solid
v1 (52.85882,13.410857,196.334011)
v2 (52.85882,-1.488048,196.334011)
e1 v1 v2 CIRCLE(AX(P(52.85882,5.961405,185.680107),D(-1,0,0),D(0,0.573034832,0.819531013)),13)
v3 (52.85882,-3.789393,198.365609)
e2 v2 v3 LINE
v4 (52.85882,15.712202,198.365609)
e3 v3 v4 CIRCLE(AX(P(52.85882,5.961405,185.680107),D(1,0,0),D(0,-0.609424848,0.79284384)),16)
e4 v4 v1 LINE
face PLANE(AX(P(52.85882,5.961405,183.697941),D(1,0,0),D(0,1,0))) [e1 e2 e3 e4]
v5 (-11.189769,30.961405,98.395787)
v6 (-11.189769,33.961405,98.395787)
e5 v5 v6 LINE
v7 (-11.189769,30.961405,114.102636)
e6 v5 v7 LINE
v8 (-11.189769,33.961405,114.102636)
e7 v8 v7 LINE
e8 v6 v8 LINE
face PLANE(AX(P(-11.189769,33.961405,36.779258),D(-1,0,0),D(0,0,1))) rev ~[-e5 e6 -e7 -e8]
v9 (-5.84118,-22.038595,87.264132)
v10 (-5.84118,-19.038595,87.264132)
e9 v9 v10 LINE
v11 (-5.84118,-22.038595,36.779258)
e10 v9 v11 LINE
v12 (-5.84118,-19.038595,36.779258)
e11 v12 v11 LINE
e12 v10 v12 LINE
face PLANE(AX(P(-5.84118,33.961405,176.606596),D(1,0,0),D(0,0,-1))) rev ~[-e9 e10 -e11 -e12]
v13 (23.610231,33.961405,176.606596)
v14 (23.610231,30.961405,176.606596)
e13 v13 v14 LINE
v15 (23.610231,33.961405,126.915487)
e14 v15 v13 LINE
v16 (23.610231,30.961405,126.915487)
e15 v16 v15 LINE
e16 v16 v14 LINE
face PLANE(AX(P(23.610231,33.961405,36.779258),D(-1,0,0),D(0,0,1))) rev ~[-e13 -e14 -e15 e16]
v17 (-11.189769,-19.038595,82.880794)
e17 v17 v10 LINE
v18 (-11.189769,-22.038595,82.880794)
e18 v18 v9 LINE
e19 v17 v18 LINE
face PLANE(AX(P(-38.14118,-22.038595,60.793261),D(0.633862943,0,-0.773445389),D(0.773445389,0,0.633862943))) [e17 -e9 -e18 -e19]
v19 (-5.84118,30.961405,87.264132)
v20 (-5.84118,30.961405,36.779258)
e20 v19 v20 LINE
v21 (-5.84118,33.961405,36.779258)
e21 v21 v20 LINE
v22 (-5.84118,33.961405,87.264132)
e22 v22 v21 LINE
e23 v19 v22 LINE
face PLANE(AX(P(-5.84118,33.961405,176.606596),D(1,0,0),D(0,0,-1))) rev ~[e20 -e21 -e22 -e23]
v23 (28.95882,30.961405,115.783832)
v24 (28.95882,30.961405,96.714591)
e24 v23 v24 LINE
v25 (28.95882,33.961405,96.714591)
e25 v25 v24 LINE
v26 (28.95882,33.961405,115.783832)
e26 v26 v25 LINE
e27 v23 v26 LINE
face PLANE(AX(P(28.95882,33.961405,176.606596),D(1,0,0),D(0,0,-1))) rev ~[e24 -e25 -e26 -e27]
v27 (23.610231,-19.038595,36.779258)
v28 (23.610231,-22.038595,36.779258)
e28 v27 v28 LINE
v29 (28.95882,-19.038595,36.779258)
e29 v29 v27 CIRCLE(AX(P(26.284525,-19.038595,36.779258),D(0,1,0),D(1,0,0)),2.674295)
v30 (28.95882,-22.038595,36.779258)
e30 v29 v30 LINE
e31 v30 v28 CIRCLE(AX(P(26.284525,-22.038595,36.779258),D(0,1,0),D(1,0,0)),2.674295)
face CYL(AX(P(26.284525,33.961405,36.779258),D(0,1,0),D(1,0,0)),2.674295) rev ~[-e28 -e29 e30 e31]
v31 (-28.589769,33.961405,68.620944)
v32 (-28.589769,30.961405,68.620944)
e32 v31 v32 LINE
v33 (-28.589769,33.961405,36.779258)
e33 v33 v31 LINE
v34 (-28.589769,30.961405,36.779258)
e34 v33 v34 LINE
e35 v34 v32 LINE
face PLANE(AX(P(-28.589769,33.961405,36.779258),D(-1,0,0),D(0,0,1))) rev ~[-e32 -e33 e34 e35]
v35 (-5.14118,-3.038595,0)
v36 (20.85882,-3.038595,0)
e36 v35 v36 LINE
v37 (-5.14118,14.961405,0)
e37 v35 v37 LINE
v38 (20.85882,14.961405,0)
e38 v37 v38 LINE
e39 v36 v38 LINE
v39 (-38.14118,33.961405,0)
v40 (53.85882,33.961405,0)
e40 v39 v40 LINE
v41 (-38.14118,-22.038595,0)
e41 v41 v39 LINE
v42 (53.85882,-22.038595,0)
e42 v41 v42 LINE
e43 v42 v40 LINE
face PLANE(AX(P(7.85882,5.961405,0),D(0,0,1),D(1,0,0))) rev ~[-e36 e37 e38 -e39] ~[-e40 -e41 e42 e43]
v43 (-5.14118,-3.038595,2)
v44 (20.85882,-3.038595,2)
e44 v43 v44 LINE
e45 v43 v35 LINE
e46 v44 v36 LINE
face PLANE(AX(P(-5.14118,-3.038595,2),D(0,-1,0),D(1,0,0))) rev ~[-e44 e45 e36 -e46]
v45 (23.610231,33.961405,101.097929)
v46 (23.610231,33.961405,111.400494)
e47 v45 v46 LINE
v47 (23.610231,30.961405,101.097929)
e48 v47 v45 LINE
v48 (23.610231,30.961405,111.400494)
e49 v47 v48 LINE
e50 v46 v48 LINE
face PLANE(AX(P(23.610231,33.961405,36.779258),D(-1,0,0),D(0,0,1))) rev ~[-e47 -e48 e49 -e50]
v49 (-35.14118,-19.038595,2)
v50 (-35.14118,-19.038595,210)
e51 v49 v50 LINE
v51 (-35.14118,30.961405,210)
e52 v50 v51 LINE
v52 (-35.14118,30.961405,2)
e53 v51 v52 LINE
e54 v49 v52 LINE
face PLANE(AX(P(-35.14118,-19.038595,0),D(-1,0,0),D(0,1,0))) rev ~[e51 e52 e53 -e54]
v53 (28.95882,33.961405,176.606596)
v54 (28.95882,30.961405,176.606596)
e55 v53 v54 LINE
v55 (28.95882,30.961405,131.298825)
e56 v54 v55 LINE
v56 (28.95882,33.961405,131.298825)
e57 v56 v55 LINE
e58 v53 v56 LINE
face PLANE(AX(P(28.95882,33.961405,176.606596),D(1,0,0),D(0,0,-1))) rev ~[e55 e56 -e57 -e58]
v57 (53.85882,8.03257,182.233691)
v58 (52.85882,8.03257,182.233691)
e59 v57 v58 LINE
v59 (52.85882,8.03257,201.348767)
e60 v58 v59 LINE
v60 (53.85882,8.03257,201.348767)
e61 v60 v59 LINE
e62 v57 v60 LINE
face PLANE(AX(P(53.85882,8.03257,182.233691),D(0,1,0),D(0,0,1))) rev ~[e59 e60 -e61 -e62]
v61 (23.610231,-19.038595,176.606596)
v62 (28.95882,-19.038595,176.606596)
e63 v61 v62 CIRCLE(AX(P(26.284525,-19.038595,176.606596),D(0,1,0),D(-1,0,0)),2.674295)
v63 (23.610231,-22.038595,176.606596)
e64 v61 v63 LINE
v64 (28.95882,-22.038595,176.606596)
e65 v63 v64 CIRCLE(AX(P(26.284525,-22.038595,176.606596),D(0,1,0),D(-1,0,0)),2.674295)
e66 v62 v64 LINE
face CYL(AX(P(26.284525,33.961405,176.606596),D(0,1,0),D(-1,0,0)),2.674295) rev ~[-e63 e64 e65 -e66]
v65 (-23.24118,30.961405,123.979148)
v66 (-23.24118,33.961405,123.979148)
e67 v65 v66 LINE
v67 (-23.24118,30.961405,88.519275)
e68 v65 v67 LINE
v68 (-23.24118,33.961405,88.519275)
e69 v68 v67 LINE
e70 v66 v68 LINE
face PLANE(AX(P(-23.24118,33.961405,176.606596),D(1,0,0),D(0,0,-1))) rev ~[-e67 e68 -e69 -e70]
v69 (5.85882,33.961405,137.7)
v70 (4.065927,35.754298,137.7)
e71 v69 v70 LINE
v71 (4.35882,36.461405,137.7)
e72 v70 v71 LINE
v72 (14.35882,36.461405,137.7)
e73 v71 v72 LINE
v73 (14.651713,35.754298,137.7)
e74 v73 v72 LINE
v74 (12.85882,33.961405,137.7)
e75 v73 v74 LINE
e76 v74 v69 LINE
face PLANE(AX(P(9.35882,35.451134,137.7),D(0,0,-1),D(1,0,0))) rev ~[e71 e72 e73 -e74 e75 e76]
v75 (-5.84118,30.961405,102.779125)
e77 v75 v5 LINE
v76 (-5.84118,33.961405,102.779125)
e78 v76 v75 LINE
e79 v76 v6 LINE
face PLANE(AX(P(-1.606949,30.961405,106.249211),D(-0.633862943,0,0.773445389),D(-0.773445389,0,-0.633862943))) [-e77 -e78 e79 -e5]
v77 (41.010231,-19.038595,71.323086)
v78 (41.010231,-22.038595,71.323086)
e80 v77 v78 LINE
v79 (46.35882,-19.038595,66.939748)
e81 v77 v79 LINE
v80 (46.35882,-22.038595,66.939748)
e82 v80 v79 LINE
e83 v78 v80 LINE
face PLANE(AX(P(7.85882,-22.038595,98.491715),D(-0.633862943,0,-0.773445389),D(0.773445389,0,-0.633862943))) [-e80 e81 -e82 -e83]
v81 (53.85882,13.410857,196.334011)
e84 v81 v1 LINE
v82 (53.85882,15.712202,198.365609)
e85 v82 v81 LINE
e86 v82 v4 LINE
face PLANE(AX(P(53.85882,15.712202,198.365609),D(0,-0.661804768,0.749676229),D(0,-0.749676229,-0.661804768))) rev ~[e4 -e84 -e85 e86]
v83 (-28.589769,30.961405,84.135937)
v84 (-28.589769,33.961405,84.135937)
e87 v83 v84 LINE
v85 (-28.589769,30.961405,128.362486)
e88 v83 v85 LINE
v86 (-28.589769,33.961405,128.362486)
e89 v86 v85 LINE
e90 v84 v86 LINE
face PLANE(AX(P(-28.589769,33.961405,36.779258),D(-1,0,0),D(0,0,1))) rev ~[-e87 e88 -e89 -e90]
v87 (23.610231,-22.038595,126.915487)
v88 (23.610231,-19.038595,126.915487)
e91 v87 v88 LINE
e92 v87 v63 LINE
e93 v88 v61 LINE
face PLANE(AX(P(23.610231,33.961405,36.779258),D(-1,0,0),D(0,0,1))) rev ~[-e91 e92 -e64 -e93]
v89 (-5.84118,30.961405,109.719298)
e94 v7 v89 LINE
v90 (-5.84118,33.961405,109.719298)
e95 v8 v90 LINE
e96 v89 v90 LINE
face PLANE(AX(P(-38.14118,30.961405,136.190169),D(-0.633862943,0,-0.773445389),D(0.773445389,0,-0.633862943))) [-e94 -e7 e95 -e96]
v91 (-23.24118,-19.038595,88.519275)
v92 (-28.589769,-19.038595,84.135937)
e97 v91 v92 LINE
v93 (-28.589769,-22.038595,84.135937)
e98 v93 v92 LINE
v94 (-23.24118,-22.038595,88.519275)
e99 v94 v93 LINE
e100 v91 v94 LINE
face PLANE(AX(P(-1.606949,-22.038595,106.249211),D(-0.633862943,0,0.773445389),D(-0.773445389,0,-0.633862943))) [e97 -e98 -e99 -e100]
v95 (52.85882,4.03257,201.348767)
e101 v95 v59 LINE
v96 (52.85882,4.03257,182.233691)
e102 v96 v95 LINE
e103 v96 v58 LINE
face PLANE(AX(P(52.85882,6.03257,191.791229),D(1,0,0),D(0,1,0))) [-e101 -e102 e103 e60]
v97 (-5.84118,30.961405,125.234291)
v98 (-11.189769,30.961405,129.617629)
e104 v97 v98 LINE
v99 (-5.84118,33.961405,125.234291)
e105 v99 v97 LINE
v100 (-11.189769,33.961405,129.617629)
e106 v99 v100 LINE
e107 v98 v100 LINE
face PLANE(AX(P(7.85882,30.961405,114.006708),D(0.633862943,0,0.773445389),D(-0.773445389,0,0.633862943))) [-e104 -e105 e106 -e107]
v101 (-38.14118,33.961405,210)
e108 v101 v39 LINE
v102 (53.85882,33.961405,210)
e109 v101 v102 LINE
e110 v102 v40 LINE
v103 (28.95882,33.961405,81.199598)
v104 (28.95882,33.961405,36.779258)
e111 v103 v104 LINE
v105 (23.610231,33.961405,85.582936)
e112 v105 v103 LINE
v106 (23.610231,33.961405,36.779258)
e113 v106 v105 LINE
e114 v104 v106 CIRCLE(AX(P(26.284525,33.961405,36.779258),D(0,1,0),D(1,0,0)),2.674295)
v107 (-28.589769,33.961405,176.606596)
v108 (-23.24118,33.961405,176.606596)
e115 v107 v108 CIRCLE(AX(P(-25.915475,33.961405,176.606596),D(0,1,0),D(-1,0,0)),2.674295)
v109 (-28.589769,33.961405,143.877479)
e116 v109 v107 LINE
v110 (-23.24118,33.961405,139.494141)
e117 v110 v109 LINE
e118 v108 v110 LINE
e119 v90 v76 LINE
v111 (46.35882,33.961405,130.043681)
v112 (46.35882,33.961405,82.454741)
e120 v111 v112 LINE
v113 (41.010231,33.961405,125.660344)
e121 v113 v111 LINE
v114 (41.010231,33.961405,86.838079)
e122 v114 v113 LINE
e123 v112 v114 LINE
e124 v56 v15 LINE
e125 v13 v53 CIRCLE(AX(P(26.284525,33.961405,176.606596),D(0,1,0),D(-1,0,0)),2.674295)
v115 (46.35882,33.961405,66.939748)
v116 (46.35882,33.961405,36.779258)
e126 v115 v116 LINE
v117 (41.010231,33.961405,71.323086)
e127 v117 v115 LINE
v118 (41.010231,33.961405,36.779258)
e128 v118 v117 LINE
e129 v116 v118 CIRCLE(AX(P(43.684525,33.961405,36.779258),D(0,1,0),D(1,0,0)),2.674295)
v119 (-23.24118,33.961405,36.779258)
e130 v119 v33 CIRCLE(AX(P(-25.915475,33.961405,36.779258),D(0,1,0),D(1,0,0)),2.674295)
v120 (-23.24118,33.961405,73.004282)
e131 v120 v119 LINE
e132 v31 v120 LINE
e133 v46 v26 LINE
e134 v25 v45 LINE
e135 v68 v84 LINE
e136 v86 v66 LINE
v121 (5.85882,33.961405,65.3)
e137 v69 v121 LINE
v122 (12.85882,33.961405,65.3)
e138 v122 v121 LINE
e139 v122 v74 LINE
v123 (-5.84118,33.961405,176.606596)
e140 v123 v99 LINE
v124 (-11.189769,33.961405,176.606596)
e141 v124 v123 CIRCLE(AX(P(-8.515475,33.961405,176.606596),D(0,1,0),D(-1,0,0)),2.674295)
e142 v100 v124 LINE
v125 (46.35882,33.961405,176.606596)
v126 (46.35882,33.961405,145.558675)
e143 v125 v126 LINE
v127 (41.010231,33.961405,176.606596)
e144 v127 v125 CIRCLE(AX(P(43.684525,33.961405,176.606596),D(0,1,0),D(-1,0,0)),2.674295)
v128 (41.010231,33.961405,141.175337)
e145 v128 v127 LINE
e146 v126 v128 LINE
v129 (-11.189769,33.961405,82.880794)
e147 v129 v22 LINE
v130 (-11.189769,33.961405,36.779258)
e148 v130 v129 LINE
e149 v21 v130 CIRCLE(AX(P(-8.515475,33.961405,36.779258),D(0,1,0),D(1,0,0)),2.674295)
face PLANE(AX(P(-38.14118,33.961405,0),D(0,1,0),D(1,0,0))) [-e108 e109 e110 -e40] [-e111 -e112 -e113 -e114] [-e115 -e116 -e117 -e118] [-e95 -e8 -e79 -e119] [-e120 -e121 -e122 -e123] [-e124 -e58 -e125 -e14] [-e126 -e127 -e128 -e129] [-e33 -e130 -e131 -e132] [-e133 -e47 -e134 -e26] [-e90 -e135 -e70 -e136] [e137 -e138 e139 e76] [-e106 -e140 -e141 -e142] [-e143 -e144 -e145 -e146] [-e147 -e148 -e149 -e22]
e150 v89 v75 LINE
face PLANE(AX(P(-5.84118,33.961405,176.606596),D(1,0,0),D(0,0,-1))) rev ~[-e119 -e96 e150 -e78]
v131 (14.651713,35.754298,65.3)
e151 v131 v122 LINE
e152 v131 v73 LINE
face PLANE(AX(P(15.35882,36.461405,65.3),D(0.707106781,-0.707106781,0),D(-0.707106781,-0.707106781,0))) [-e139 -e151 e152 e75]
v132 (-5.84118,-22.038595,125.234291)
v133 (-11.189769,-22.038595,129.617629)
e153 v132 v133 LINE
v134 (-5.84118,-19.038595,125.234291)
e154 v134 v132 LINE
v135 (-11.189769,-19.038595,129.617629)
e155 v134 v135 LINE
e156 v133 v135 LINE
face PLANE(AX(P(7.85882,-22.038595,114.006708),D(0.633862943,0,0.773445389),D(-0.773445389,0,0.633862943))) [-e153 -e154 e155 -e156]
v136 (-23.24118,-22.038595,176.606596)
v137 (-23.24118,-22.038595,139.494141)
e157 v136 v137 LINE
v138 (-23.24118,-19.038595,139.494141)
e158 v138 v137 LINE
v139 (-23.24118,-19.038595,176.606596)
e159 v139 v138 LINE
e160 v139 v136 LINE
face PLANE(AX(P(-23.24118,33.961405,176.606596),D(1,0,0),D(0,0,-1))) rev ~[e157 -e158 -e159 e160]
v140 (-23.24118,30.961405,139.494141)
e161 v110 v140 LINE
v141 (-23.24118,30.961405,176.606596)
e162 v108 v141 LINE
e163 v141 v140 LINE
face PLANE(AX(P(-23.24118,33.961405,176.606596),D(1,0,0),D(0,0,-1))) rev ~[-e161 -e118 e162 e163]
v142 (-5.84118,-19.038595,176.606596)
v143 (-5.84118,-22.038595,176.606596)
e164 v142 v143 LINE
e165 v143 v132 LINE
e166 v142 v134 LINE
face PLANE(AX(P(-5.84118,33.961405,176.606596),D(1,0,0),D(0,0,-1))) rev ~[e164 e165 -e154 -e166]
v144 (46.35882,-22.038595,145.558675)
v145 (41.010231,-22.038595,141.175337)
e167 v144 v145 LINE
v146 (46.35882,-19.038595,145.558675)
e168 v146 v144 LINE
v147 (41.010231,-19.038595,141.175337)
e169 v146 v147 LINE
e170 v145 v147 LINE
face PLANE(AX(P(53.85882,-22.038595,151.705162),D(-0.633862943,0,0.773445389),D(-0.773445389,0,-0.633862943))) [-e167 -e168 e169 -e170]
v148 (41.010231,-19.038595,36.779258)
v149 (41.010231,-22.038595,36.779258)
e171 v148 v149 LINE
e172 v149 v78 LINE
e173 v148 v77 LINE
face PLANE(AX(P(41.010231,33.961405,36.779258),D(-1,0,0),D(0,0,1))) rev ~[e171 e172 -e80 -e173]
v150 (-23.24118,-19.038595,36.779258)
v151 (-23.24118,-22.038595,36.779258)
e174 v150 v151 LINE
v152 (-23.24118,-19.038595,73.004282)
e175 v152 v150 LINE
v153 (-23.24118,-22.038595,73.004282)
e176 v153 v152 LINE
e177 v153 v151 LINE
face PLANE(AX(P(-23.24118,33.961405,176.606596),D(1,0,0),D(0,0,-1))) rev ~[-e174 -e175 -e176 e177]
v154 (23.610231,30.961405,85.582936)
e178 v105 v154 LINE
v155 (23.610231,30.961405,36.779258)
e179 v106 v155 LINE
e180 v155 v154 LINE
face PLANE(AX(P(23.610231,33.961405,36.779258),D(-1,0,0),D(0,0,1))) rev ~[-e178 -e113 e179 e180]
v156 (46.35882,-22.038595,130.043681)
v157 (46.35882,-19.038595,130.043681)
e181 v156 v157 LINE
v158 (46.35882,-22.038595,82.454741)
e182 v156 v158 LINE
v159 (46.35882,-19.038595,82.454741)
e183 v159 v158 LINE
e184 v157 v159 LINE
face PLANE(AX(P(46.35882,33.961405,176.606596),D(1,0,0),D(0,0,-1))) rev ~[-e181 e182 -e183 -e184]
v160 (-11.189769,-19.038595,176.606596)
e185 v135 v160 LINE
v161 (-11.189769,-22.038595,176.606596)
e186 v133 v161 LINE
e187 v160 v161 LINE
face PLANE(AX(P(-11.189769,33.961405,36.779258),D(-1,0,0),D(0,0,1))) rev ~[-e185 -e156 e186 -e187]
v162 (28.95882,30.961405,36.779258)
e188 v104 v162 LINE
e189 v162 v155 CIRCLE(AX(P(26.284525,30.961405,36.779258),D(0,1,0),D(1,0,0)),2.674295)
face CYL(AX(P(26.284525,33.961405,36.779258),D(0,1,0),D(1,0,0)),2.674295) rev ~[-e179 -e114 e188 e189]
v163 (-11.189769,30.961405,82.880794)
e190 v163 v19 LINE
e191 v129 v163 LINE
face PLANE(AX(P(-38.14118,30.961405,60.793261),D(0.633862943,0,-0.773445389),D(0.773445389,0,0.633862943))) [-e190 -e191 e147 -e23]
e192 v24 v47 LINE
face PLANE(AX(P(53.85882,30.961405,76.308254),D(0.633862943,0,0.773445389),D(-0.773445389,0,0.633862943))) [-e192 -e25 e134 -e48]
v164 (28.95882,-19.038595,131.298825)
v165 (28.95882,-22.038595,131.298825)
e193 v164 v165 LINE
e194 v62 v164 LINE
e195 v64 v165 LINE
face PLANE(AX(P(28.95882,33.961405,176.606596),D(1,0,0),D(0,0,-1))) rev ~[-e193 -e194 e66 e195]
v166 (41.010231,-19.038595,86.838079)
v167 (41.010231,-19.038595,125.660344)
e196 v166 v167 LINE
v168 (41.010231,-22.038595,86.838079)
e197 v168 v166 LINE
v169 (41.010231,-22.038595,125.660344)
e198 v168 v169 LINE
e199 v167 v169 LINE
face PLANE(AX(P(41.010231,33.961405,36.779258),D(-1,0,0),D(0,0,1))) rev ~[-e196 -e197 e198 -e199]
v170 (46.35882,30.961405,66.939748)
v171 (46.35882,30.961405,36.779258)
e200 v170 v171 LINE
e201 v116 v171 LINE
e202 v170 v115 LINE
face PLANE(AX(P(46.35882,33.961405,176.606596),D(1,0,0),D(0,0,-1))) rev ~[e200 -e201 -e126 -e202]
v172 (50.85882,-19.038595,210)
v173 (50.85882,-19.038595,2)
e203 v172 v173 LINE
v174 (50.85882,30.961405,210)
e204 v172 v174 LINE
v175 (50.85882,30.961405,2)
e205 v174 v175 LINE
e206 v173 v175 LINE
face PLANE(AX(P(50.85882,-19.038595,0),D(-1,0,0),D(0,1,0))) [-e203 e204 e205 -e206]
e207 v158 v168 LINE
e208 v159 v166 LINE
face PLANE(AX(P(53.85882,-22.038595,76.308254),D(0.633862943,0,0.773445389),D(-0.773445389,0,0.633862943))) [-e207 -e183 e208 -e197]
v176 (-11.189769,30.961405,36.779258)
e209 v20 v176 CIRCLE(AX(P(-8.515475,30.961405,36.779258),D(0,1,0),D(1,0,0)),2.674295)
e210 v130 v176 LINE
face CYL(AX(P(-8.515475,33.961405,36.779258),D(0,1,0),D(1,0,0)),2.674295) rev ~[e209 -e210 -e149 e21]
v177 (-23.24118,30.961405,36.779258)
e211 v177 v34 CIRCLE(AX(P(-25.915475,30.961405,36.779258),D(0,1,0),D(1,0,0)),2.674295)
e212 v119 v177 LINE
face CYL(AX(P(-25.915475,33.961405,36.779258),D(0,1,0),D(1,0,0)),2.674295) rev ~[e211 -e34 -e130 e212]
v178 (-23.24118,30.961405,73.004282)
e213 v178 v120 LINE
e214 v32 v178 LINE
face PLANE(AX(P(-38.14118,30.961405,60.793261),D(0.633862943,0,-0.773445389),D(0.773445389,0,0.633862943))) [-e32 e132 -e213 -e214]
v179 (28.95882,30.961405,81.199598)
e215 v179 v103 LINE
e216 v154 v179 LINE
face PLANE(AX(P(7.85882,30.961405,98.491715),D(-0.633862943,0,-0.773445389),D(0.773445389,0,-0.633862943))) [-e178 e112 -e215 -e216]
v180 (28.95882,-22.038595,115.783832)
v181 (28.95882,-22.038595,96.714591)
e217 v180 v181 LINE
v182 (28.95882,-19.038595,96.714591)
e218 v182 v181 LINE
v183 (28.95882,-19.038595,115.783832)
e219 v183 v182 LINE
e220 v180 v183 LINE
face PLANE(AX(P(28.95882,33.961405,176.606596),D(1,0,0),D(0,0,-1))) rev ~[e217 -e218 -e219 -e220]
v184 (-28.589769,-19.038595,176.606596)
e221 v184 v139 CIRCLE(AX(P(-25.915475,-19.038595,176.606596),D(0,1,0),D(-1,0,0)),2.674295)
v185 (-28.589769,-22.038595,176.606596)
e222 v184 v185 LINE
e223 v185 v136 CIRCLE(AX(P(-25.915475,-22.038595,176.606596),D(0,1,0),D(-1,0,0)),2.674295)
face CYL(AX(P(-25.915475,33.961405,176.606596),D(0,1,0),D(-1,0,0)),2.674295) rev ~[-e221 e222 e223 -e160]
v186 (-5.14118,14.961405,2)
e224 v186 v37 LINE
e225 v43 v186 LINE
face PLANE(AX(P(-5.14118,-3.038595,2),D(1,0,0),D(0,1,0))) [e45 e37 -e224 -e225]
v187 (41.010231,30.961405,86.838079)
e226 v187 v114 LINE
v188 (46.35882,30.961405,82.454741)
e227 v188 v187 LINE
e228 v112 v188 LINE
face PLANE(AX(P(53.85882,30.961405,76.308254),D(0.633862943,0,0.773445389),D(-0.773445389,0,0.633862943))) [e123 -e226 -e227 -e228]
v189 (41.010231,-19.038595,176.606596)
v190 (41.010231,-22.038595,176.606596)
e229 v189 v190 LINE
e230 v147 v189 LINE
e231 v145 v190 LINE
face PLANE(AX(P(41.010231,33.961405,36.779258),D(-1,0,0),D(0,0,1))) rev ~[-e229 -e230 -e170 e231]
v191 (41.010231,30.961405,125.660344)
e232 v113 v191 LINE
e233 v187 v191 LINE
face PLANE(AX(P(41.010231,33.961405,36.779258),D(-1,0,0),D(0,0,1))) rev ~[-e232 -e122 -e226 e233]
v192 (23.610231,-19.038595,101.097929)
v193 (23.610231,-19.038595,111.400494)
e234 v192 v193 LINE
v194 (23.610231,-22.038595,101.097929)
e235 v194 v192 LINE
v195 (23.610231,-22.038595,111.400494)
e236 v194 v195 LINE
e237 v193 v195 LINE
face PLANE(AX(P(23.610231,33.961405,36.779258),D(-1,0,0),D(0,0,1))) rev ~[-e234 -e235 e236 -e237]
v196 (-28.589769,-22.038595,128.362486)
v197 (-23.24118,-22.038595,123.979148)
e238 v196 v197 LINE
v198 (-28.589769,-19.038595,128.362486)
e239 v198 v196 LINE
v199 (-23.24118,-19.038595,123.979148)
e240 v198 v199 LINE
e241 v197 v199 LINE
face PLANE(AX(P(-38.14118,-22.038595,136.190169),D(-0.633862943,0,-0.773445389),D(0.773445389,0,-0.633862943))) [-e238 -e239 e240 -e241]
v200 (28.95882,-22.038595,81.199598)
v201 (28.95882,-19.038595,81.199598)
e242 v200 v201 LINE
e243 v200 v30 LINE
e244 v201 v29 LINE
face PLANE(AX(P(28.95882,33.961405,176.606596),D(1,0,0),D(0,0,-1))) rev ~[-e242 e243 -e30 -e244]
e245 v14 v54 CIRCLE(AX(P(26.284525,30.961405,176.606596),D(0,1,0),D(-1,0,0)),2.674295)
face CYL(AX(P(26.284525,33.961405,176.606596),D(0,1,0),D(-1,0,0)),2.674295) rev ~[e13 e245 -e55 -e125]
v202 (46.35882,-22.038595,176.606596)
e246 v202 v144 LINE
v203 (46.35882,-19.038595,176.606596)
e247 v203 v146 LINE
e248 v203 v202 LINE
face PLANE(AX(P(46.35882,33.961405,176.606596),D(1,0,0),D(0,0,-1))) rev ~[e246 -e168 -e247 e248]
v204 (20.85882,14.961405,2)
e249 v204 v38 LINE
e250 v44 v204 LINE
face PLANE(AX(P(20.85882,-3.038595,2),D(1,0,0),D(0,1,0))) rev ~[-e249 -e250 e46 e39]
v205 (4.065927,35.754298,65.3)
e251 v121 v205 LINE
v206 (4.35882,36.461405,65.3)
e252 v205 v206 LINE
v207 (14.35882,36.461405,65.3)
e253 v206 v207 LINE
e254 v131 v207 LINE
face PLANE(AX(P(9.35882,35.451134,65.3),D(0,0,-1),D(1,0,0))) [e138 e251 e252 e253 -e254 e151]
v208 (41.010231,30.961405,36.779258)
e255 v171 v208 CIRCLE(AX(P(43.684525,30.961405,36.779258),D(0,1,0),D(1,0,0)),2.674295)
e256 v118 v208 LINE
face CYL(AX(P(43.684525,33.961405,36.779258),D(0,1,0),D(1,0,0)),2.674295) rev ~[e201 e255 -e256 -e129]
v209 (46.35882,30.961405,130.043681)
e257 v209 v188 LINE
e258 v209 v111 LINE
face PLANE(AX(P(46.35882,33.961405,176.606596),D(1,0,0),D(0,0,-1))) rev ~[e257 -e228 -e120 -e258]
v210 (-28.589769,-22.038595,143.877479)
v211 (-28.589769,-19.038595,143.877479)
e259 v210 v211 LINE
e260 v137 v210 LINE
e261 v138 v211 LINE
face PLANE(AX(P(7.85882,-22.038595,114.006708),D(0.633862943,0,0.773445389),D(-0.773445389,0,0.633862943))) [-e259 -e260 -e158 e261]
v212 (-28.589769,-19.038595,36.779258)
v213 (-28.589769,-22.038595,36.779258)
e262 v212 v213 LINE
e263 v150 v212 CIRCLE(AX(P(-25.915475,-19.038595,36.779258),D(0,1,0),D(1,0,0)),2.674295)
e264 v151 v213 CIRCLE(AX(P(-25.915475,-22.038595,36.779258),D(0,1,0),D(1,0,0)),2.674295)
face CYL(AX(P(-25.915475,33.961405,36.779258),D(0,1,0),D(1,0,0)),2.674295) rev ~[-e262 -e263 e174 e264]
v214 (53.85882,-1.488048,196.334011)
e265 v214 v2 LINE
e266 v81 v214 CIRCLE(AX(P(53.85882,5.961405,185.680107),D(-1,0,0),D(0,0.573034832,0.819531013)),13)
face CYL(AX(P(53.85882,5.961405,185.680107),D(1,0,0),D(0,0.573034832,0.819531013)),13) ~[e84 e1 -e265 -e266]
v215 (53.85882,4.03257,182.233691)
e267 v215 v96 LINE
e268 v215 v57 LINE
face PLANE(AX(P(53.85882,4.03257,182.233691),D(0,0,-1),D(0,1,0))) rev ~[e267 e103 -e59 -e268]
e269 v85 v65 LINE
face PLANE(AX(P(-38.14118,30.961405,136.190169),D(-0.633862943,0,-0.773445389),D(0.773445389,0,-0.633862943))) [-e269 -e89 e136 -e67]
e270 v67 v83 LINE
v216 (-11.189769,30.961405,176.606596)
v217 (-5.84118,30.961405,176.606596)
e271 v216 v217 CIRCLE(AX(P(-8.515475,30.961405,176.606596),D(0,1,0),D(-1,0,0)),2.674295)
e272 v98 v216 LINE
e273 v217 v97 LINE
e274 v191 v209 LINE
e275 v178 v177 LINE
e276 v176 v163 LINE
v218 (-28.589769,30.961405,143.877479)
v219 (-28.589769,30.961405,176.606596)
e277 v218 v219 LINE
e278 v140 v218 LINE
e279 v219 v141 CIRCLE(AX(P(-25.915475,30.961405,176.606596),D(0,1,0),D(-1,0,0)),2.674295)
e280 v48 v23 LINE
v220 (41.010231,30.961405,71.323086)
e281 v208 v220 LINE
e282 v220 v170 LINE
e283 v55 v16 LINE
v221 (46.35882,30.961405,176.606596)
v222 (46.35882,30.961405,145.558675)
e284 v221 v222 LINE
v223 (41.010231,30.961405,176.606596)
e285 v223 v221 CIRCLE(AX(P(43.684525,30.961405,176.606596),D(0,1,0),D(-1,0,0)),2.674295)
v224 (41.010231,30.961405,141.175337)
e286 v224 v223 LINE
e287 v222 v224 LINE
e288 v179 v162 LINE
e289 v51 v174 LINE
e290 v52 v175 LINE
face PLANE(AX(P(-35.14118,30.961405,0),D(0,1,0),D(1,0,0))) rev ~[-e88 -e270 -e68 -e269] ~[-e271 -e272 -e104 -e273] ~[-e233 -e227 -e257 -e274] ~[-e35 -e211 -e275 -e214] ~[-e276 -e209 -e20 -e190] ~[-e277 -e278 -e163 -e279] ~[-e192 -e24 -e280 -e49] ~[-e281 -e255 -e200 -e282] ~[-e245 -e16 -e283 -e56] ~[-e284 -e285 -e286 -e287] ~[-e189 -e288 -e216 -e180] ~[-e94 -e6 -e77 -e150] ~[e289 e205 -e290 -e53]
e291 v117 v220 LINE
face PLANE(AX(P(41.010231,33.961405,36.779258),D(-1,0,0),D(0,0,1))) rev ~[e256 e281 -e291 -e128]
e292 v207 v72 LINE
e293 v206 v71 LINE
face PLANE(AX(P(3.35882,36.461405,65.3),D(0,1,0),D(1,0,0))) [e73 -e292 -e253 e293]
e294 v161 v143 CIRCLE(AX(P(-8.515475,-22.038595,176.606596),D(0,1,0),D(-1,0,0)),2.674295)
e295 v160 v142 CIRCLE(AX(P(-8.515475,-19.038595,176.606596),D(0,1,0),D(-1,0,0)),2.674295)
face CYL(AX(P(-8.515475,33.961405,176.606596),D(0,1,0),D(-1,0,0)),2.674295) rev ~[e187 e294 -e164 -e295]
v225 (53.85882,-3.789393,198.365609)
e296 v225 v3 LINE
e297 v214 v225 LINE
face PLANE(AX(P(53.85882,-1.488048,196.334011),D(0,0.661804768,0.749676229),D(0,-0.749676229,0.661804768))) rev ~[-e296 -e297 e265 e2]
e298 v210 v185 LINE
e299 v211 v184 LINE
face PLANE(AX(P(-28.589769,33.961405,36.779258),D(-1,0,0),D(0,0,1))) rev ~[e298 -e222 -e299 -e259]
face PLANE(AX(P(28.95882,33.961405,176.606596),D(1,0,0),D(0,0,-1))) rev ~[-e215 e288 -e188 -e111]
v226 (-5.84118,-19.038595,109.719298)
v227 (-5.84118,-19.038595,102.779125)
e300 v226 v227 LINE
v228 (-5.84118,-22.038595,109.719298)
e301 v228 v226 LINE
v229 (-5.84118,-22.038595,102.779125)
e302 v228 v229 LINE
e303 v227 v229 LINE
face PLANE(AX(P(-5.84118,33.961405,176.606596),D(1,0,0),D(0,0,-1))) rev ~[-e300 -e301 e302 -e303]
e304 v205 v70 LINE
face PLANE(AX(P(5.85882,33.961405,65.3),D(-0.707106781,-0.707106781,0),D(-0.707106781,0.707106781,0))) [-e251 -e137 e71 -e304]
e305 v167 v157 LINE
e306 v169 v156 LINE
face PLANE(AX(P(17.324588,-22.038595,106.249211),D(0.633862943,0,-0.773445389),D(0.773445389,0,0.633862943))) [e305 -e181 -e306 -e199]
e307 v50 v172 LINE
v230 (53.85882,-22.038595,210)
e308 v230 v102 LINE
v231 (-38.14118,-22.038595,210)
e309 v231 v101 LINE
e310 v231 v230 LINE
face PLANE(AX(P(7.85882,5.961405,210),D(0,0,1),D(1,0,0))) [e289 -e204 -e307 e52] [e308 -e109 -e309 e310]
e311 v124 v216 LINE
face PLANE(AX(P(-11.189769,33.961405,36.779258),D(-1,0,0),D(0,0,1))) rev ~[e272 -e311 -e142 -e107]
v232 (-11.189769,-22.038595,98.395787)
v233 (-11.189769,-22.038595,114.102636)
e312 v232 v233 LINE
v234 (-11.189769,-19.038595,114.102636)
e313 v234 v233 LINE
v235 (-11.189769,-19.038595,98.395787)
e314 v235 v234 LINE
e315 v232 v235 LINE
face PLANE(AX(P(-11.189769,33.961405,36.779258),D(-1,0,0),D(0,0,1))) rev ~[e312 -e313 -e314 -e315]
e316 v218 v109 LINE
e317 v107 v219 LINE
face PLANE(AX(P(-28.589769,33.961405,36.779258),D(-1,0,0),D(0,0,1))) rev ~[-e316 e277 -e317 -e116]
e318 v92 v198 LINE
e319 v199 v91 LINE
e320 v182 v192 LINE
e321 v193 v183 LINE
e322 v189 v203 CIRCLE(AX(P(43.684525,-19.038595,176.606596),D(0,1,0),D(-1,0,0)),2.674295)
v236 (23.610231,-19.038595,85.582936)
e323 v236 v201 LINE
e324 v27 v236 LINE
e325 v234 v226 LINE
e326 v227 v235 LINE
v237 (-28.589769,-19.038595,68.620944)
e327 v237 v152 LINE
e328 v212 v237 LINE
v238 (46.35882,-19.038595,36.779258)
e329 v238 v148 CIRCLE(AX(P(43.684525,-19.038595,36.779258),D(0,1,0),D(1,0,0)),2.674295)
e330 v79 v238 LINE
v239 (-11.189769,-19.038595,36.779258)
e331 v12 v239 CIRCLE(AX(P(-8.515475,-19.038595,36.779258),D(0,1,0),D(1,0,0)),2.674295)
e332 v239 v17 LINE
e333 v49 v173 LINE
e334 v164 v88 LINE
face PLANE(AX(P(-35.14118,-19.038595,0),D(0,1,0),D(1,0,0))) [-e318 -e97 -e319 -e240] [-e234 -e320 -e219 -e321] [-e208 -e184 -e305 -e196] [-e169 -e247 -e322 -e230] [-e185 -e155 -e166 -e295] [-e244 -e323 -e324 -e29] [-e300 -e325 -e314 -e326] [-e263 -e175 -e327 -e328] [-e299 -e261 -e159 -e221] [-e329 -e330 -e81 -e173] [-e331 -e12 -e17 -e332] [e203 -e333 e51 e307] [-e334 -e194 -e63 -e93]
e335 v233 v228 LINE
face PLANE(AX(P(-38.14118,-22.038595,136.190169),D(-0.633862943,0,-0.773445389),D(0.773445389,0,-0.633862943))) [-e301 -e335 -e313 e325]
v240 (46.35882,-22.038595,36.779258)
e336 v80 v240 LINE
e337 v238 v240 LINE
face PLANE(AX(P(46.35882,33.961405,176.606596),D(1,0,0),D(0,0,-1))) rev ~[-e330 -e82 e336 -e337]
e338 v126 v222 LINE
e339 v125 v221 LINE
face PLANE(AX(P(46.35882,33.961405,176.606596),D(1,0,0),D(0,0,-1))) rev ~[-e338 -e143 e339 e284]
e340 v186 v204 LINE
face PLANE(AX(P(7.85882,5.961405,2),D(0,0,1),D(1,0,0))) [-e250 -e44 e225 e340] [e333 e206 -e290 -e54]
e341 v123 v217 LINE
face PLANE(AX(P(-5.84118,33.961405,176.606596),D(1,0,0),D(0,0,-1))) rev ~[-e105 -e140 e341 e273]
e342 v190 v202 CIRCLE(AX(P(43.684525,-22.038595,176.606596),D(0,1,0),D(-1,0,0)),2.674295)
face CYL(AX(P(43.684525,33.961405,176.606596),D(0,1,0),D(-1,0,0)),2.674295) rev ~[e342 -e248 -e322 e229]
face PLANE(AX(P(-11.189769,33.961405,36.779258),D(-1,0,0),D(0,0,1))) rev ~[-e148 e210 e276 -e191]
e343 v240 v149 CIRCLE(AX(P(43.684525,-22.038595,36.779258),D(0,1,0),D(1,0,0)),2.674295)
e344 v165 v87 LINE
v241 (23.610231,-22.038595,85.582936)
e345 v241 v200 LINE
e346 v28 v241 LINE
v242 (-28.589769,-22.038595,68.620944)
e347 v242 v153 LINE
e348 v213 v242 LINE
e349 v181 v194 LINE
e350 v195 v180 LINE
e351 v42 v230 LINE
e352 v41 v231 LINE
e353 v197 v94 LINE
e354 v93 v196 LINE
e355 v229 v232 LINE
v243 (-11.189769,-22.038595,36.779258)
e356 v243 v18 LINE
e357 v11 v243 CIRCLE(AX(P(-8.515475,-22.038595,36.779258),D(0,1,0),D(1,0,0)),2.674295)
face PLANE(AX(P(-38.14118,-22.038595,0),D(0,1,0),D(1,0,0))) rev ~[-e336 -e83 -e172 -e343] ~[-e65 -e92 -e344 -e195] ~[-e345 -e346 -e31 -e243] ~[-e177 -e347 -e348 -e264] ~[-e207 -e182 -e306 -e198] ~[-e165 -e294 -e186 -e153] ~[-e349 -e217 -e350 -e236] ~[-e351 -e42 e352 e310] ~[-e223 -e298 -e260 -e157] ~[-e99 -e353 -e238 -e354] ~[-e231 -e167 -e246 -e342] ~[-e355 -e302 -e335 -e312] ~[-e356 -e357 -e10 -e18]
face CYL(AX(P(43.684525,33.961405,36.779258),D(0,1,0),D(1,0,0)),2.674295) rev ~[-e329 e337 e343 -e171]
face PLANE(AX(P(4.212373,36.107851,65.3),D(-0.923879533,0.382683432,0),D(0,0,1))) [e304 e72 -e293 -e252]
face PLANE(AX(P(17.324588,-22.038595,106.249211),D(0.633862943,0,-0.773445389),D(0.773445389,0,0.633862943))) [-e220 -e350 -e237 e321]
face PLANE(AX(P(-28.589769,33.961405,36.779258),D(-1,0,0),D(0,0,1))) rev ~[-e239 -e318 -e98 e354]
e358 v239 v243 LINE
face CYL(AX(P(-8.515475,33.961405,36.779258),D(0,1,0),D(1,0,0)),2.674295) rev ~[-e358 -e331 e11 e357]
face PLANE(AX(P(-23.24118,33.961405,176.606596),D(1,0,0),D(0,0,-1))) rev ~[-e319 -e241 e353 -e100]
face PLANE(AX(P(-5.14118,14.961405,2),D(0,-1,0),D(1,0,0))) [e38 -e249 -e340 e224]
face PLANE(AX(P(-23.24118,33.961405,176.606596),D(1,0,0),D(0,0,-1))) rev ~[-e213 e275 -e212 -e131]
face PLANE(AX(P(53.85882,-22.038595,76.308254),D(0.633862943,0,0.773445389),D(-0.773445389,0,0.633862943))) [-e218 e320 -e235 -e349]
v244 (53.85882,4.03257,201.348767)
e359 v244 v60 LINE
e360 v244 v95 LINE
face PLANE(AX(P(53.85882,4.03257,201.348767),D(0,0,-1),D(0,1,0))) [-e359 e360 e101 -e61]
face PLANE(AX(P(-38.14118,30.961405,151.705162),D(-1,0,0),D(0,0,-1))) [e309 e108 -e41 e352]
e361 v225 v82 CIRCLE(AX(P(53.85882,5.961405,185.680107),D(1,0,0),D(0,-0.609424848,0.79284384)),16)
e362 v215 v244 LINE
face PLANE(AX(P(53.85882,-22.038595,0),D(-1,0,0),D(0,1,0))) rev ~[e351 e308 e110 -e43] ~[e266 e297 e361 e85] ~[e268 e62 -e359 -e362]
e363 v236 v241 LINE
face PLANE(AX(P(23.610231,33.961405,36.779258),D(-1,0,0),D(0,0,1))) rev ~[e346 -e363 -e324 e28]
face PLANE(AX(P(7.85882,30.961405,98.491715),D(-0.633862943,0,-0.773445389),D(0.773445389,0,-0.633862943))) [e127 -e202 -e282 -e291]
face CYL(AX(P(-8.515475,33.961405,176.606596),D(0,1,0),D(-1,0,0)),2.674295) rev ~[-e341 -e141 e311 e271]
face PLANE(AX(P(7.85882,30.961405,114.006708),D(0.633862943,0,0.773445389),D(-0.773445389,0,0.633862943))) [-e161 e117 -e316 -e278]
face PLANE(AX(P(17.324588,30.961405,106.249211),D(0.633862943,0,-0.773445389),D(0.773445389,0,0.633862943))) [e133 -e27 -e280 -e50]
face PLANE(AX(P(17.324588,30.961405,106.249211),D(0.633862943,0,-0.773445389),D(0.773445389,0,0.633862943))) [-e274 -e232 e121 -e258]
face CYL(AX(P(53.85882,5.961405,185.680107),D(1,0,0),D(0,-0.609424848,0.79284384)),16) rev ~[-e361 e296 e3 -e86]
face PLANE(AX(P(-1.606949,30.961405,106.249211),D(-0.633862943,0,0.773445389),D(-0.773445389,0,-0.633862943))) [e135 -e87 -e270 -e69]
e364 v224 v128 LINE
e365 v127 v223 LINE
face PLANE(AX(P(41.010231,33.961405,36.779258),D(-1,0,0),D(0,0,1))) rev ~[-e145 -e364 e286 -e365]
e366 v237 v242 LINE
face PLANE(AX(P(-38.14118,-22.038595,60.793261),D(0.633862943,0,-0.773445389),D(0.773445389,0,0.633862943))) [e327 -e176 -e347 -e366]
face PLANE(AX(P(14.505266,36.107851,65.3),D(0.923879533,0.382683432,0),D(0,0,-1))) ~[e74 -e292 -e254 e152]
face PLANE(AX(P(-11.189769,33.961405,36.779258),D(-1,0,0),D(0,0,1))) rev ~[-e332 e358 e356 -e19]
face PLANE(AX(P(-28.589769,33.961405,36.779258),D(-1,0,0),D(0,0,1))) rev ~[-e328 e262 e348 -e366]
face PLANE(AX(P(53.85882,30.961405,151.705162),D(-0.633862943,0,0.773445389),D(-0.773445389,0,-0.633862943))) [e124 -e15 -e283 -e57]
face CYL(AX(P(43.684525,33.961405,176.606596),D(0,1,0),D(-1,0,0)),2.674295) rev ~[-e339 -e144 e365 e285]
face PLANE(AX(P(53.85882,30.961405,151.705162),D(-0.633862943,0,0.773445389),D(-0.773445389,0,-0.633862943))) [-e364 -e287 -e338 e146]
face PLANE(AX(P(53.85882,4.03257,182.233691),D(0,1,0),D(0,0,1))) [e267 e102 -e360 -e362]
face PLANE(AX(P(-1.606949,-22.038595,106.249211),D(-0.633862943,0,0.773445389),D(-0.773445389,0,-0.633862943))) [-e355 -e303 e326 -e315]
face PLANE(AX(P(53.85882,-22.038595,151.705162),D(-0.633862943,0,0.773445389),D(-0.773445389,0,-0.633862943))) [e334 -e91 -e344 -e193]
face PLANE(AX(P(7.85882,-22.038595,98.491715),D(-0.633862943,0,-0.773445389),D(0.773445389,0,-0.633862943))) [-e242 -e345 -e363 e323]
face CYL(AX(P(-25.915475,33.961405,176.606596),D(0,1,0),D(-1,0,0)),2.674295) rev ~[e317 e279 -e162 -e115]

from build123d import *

# Parameters (mm, degrees)
F0_W      = 92
F0_H      = 56
F0_W_2    = 86
F0_H_2    = 50
F1_DEPTH  = 210
F2_W      = 86
F2_H      = 50
F3_DEPTH  = 2
F4_W      = 26
F4_H      = 18
F5_DEPTH  = 25
F7_START  = -65.3
F7_DEPTH  = 72.4
F8_SIZE   = 1
F10_DEPTH = 56.001
F12_DEPTH = 3
F13_START = -53
F13_DEPTH = 3
F14_W     = 4
F14_H     = 19.115075469
F15_DEPTH = 1


with BuildPart() as f1:
    # F0 (on Top) → F1 (new body)
    with BuildSketch(Plane.XY):
        with Locations((7.8588197877, 5.9614046181)):
            Rectangle(F0_W, F0_H)
        with Locations((7.8588197877, 5.9614046181)):
            Rectangle(F0_W_2, F0_H_2, mode=Mode.SUBTRACT)
    extrude(amount=F1_DEPTH)

    # F2 (on Top) → F3 (join)
    with BuildSketch(Plane.XY):
        with Locations((7.8588197877, 5.9614046181)):
            Rectangle(F2_W, F2_H)
    extrude(amount=F3_DEPTH)

    # F4 (on face) → F5 (cut)
    with BuildSketch(Plane.XY.offset(2)):
        with Locations((7.8588197877, 5.9614046181)):
            Rectangle(F4_W, F4_H)
    extrude(amount=-F5_DEPTH, mode=Mode.SUBTRACT)

    # F6 (on face) → F7 (join)
    with BuildSketch(Plane(origin=(0, 0, 0), x_dir=(1, 0, 0), z_dir=(0, 0, -1)).offset(F7_START)):
        Polygon((12.8588197877, -33.9614046181), (5.8588197877, -33.9614046181), (3.3588197877, -36.4614046181), (15.3588197877, -36.4614046181), align=None)
    extrude(amount=-F7_DEPTH)

    # F8
    f8_edges = [f1.edges().sort_by_distance(p)[0] for p in [
        (15.35882, 36.461405, 101.5),
        (3.35882, 36.461405, 101.5),
    ]]
    chamfer(f8_edges, length=F8_SIZE)

    # F9 (on face) → F10 (cut, through all)
    with BuildSketch(Plane(origin=(0, 33.9614046181, 0), x_dir=(-1, 0, 0), z_dir=(0, 1, 0))):
        with BuildLine():
            Line((-23.6102305163, 36.7792584002), (-23.6102305163, 176.6065955162))
            ThreePointArc((-23.6102305163, 176.6065955162), (-26.284525152, 179.2808901519), (-28.9588197877, 176.6065955162))
            Line((-28.9588197877, 176.6065955162), (-28.9588197877, 36.7792584002))
            ThreePointArc((-28.9588197877, 36.7792584002), (-26.284525152, 34.1049637645), (-23.6102305163, 36.7792584002))
        make_face()
        with BuildLine():
            Line((11.1897694837, 36.7792584002), (11.1897694837, 176.6065955162))
            ThreePointArc((11.1897694837, 176.6065955162), (8.515474848, 179.2808901519), (5.8411802123, 176.6065955162))
            Line((5.8411802123, 176.6065955162), (5.8411802123, 36.7792584002))
            ThreePointArc((5.8411802123, 36.7792584002), (8.515474848, 34.1049637645), (11.1897694837, 36.7792584002))
        make_face()
        with BuildLine():
            Line((28.5897694837, 36.7792584002), (28.5897694837, 176.6065955162))
            ThreePointArc((28.5897694837, 176.6065955162), (25.915474848, 179.2808901519), (23.2411802123, 176.6065955162))
            Line((23.2411802123, 176.6065955162), (23.2411802123, 36.7792584002))
            ThreePointArc((23.2411802123, 36.7792584002), (25.915474848, 34.1049637645), (28.5897694837, 36.7792584002))
        make_face()
        with BuildLine():
            ThreePointArc((-41.0102305163, 176.6065955162), (-43.684525152, 179.2808901519), (-46.3588197877, 176.6065955162))
            Line((-46.3588197877, 176.6065955162), (-46.3588197877, 36.7792584002))
            ThreePointArc((-46.3588197877, 36.7792584002), (-43.684525152, 34.1049637645), (-41.0102305163, 36.7792584002))
            Line((-41.0102305163, 36.7792584002), (-41.0102305163, 176.6065955162))
        make_face()
    extrude(amount=-F10_DEPTH, mode=Mode.SUBTRACT)

    # F11 (on face) → F12 (join)
    with BuildSketch(Plane.XZ.offset(22.0385953819)):
        Polygon((-38.1411802123, 151.7051618288), (-38.1411802123, 136.1901685596), (-1.6069489009, 106.2492112246), (7.8588197877, 114.0067078593), align=None)
        Polygon((7.8588197877, 114.0067078593), (-1.6069489009, 106.2492112246), (7.8588197877, 98.49171459), (17.3245884762, 106.2492112246), align=None)
        Polygon((7.8588197877, 98.49171459), (-1.6069489009, 106.2492112246), (-38.1411802123, 76.3082538897), (-38.1411802123, 60.7932606204), align=None)
        Polygon((17.3245884762, 106.2492112246), (7.8588197877, 98.49171459), (53.8588197877, 60.7932606204), (53.8588197877, 76.3082538897), align=None)
        Polygon((53.8588197877, 151.7051618288), (7.8588197877, 114.0067078593), (17.3245884762, 106.2492112246), (53.8588197877, 136.1901685596), align=None)
    extrude(amount=-F12_DEPTH)

    # F11 (on face) → F13 (join)
    with BuildSketch(Plane.XZ.offset(22.0385953819).offset(F13_START)):
        Polygon((-38.1411802123, 151.7051618288), (-38.1411802123, 136.1901685596), (-1.6069489009, 106.2492112246), (7.8588197877, 114.0067078593), align=None)
        Polygon((7.8588197877, 114.0067078593), (-1.6069489009, 106.2492112246), (7.8588197877, 98.49171459), (17.3245884762, 106.2492112246), align=None)
        Polygon((7.8588197877, 98.49171459), (-1.6069489009, 106.2492112246), (-38.1411802123, 76.3082538897), (-38.1411802123, 60.7932606204), align=None)
        Polygon((17.3245884762, 106.2492112246), (7.8588197877, 98.49171459), (53.8588197877, 60.7932606204), (53.8588197877, 76.3082538897), align=None)
        Polygon((53.8588197877, 151.7051618288), (7.8588197877, 114.0067078593), (17.3245884762, 106.2492112246), (53.8588197877, 136.1901685596), align=None)
    extrude(amount=-F13_DEPTH)

    # F14 (on face) → F15 (cut)
    with BuildSketch(Plane.YZ.offset(53.8588197877)):
        with BuildLine():
            Line((-1.4880481935, 196.3340106044), (-3.7893929464, 198.3656088747))
            ThreePointArc((-3.7893929464, 198.3656088747), (5.9614046181, 169.6801074319), (15.7122021826, 198.3656088747))
            Line((15.7122021826, 198.3656088747), (13.4108574297, 196.3340106044))
            ThreePointArc((13.4108574297, 196.3340106044), (5.9614046181, 172.6801074319), (-1.4880481935, 196.3340106044))
        make_face()
        with Locations((6.0325704031, 191.79122895)):
            Rectangle(F14_W, F14_H)
    extrude(amount=-F15_DEPTH, mode=Mode.SUBTRACT)


solid = f1.part
